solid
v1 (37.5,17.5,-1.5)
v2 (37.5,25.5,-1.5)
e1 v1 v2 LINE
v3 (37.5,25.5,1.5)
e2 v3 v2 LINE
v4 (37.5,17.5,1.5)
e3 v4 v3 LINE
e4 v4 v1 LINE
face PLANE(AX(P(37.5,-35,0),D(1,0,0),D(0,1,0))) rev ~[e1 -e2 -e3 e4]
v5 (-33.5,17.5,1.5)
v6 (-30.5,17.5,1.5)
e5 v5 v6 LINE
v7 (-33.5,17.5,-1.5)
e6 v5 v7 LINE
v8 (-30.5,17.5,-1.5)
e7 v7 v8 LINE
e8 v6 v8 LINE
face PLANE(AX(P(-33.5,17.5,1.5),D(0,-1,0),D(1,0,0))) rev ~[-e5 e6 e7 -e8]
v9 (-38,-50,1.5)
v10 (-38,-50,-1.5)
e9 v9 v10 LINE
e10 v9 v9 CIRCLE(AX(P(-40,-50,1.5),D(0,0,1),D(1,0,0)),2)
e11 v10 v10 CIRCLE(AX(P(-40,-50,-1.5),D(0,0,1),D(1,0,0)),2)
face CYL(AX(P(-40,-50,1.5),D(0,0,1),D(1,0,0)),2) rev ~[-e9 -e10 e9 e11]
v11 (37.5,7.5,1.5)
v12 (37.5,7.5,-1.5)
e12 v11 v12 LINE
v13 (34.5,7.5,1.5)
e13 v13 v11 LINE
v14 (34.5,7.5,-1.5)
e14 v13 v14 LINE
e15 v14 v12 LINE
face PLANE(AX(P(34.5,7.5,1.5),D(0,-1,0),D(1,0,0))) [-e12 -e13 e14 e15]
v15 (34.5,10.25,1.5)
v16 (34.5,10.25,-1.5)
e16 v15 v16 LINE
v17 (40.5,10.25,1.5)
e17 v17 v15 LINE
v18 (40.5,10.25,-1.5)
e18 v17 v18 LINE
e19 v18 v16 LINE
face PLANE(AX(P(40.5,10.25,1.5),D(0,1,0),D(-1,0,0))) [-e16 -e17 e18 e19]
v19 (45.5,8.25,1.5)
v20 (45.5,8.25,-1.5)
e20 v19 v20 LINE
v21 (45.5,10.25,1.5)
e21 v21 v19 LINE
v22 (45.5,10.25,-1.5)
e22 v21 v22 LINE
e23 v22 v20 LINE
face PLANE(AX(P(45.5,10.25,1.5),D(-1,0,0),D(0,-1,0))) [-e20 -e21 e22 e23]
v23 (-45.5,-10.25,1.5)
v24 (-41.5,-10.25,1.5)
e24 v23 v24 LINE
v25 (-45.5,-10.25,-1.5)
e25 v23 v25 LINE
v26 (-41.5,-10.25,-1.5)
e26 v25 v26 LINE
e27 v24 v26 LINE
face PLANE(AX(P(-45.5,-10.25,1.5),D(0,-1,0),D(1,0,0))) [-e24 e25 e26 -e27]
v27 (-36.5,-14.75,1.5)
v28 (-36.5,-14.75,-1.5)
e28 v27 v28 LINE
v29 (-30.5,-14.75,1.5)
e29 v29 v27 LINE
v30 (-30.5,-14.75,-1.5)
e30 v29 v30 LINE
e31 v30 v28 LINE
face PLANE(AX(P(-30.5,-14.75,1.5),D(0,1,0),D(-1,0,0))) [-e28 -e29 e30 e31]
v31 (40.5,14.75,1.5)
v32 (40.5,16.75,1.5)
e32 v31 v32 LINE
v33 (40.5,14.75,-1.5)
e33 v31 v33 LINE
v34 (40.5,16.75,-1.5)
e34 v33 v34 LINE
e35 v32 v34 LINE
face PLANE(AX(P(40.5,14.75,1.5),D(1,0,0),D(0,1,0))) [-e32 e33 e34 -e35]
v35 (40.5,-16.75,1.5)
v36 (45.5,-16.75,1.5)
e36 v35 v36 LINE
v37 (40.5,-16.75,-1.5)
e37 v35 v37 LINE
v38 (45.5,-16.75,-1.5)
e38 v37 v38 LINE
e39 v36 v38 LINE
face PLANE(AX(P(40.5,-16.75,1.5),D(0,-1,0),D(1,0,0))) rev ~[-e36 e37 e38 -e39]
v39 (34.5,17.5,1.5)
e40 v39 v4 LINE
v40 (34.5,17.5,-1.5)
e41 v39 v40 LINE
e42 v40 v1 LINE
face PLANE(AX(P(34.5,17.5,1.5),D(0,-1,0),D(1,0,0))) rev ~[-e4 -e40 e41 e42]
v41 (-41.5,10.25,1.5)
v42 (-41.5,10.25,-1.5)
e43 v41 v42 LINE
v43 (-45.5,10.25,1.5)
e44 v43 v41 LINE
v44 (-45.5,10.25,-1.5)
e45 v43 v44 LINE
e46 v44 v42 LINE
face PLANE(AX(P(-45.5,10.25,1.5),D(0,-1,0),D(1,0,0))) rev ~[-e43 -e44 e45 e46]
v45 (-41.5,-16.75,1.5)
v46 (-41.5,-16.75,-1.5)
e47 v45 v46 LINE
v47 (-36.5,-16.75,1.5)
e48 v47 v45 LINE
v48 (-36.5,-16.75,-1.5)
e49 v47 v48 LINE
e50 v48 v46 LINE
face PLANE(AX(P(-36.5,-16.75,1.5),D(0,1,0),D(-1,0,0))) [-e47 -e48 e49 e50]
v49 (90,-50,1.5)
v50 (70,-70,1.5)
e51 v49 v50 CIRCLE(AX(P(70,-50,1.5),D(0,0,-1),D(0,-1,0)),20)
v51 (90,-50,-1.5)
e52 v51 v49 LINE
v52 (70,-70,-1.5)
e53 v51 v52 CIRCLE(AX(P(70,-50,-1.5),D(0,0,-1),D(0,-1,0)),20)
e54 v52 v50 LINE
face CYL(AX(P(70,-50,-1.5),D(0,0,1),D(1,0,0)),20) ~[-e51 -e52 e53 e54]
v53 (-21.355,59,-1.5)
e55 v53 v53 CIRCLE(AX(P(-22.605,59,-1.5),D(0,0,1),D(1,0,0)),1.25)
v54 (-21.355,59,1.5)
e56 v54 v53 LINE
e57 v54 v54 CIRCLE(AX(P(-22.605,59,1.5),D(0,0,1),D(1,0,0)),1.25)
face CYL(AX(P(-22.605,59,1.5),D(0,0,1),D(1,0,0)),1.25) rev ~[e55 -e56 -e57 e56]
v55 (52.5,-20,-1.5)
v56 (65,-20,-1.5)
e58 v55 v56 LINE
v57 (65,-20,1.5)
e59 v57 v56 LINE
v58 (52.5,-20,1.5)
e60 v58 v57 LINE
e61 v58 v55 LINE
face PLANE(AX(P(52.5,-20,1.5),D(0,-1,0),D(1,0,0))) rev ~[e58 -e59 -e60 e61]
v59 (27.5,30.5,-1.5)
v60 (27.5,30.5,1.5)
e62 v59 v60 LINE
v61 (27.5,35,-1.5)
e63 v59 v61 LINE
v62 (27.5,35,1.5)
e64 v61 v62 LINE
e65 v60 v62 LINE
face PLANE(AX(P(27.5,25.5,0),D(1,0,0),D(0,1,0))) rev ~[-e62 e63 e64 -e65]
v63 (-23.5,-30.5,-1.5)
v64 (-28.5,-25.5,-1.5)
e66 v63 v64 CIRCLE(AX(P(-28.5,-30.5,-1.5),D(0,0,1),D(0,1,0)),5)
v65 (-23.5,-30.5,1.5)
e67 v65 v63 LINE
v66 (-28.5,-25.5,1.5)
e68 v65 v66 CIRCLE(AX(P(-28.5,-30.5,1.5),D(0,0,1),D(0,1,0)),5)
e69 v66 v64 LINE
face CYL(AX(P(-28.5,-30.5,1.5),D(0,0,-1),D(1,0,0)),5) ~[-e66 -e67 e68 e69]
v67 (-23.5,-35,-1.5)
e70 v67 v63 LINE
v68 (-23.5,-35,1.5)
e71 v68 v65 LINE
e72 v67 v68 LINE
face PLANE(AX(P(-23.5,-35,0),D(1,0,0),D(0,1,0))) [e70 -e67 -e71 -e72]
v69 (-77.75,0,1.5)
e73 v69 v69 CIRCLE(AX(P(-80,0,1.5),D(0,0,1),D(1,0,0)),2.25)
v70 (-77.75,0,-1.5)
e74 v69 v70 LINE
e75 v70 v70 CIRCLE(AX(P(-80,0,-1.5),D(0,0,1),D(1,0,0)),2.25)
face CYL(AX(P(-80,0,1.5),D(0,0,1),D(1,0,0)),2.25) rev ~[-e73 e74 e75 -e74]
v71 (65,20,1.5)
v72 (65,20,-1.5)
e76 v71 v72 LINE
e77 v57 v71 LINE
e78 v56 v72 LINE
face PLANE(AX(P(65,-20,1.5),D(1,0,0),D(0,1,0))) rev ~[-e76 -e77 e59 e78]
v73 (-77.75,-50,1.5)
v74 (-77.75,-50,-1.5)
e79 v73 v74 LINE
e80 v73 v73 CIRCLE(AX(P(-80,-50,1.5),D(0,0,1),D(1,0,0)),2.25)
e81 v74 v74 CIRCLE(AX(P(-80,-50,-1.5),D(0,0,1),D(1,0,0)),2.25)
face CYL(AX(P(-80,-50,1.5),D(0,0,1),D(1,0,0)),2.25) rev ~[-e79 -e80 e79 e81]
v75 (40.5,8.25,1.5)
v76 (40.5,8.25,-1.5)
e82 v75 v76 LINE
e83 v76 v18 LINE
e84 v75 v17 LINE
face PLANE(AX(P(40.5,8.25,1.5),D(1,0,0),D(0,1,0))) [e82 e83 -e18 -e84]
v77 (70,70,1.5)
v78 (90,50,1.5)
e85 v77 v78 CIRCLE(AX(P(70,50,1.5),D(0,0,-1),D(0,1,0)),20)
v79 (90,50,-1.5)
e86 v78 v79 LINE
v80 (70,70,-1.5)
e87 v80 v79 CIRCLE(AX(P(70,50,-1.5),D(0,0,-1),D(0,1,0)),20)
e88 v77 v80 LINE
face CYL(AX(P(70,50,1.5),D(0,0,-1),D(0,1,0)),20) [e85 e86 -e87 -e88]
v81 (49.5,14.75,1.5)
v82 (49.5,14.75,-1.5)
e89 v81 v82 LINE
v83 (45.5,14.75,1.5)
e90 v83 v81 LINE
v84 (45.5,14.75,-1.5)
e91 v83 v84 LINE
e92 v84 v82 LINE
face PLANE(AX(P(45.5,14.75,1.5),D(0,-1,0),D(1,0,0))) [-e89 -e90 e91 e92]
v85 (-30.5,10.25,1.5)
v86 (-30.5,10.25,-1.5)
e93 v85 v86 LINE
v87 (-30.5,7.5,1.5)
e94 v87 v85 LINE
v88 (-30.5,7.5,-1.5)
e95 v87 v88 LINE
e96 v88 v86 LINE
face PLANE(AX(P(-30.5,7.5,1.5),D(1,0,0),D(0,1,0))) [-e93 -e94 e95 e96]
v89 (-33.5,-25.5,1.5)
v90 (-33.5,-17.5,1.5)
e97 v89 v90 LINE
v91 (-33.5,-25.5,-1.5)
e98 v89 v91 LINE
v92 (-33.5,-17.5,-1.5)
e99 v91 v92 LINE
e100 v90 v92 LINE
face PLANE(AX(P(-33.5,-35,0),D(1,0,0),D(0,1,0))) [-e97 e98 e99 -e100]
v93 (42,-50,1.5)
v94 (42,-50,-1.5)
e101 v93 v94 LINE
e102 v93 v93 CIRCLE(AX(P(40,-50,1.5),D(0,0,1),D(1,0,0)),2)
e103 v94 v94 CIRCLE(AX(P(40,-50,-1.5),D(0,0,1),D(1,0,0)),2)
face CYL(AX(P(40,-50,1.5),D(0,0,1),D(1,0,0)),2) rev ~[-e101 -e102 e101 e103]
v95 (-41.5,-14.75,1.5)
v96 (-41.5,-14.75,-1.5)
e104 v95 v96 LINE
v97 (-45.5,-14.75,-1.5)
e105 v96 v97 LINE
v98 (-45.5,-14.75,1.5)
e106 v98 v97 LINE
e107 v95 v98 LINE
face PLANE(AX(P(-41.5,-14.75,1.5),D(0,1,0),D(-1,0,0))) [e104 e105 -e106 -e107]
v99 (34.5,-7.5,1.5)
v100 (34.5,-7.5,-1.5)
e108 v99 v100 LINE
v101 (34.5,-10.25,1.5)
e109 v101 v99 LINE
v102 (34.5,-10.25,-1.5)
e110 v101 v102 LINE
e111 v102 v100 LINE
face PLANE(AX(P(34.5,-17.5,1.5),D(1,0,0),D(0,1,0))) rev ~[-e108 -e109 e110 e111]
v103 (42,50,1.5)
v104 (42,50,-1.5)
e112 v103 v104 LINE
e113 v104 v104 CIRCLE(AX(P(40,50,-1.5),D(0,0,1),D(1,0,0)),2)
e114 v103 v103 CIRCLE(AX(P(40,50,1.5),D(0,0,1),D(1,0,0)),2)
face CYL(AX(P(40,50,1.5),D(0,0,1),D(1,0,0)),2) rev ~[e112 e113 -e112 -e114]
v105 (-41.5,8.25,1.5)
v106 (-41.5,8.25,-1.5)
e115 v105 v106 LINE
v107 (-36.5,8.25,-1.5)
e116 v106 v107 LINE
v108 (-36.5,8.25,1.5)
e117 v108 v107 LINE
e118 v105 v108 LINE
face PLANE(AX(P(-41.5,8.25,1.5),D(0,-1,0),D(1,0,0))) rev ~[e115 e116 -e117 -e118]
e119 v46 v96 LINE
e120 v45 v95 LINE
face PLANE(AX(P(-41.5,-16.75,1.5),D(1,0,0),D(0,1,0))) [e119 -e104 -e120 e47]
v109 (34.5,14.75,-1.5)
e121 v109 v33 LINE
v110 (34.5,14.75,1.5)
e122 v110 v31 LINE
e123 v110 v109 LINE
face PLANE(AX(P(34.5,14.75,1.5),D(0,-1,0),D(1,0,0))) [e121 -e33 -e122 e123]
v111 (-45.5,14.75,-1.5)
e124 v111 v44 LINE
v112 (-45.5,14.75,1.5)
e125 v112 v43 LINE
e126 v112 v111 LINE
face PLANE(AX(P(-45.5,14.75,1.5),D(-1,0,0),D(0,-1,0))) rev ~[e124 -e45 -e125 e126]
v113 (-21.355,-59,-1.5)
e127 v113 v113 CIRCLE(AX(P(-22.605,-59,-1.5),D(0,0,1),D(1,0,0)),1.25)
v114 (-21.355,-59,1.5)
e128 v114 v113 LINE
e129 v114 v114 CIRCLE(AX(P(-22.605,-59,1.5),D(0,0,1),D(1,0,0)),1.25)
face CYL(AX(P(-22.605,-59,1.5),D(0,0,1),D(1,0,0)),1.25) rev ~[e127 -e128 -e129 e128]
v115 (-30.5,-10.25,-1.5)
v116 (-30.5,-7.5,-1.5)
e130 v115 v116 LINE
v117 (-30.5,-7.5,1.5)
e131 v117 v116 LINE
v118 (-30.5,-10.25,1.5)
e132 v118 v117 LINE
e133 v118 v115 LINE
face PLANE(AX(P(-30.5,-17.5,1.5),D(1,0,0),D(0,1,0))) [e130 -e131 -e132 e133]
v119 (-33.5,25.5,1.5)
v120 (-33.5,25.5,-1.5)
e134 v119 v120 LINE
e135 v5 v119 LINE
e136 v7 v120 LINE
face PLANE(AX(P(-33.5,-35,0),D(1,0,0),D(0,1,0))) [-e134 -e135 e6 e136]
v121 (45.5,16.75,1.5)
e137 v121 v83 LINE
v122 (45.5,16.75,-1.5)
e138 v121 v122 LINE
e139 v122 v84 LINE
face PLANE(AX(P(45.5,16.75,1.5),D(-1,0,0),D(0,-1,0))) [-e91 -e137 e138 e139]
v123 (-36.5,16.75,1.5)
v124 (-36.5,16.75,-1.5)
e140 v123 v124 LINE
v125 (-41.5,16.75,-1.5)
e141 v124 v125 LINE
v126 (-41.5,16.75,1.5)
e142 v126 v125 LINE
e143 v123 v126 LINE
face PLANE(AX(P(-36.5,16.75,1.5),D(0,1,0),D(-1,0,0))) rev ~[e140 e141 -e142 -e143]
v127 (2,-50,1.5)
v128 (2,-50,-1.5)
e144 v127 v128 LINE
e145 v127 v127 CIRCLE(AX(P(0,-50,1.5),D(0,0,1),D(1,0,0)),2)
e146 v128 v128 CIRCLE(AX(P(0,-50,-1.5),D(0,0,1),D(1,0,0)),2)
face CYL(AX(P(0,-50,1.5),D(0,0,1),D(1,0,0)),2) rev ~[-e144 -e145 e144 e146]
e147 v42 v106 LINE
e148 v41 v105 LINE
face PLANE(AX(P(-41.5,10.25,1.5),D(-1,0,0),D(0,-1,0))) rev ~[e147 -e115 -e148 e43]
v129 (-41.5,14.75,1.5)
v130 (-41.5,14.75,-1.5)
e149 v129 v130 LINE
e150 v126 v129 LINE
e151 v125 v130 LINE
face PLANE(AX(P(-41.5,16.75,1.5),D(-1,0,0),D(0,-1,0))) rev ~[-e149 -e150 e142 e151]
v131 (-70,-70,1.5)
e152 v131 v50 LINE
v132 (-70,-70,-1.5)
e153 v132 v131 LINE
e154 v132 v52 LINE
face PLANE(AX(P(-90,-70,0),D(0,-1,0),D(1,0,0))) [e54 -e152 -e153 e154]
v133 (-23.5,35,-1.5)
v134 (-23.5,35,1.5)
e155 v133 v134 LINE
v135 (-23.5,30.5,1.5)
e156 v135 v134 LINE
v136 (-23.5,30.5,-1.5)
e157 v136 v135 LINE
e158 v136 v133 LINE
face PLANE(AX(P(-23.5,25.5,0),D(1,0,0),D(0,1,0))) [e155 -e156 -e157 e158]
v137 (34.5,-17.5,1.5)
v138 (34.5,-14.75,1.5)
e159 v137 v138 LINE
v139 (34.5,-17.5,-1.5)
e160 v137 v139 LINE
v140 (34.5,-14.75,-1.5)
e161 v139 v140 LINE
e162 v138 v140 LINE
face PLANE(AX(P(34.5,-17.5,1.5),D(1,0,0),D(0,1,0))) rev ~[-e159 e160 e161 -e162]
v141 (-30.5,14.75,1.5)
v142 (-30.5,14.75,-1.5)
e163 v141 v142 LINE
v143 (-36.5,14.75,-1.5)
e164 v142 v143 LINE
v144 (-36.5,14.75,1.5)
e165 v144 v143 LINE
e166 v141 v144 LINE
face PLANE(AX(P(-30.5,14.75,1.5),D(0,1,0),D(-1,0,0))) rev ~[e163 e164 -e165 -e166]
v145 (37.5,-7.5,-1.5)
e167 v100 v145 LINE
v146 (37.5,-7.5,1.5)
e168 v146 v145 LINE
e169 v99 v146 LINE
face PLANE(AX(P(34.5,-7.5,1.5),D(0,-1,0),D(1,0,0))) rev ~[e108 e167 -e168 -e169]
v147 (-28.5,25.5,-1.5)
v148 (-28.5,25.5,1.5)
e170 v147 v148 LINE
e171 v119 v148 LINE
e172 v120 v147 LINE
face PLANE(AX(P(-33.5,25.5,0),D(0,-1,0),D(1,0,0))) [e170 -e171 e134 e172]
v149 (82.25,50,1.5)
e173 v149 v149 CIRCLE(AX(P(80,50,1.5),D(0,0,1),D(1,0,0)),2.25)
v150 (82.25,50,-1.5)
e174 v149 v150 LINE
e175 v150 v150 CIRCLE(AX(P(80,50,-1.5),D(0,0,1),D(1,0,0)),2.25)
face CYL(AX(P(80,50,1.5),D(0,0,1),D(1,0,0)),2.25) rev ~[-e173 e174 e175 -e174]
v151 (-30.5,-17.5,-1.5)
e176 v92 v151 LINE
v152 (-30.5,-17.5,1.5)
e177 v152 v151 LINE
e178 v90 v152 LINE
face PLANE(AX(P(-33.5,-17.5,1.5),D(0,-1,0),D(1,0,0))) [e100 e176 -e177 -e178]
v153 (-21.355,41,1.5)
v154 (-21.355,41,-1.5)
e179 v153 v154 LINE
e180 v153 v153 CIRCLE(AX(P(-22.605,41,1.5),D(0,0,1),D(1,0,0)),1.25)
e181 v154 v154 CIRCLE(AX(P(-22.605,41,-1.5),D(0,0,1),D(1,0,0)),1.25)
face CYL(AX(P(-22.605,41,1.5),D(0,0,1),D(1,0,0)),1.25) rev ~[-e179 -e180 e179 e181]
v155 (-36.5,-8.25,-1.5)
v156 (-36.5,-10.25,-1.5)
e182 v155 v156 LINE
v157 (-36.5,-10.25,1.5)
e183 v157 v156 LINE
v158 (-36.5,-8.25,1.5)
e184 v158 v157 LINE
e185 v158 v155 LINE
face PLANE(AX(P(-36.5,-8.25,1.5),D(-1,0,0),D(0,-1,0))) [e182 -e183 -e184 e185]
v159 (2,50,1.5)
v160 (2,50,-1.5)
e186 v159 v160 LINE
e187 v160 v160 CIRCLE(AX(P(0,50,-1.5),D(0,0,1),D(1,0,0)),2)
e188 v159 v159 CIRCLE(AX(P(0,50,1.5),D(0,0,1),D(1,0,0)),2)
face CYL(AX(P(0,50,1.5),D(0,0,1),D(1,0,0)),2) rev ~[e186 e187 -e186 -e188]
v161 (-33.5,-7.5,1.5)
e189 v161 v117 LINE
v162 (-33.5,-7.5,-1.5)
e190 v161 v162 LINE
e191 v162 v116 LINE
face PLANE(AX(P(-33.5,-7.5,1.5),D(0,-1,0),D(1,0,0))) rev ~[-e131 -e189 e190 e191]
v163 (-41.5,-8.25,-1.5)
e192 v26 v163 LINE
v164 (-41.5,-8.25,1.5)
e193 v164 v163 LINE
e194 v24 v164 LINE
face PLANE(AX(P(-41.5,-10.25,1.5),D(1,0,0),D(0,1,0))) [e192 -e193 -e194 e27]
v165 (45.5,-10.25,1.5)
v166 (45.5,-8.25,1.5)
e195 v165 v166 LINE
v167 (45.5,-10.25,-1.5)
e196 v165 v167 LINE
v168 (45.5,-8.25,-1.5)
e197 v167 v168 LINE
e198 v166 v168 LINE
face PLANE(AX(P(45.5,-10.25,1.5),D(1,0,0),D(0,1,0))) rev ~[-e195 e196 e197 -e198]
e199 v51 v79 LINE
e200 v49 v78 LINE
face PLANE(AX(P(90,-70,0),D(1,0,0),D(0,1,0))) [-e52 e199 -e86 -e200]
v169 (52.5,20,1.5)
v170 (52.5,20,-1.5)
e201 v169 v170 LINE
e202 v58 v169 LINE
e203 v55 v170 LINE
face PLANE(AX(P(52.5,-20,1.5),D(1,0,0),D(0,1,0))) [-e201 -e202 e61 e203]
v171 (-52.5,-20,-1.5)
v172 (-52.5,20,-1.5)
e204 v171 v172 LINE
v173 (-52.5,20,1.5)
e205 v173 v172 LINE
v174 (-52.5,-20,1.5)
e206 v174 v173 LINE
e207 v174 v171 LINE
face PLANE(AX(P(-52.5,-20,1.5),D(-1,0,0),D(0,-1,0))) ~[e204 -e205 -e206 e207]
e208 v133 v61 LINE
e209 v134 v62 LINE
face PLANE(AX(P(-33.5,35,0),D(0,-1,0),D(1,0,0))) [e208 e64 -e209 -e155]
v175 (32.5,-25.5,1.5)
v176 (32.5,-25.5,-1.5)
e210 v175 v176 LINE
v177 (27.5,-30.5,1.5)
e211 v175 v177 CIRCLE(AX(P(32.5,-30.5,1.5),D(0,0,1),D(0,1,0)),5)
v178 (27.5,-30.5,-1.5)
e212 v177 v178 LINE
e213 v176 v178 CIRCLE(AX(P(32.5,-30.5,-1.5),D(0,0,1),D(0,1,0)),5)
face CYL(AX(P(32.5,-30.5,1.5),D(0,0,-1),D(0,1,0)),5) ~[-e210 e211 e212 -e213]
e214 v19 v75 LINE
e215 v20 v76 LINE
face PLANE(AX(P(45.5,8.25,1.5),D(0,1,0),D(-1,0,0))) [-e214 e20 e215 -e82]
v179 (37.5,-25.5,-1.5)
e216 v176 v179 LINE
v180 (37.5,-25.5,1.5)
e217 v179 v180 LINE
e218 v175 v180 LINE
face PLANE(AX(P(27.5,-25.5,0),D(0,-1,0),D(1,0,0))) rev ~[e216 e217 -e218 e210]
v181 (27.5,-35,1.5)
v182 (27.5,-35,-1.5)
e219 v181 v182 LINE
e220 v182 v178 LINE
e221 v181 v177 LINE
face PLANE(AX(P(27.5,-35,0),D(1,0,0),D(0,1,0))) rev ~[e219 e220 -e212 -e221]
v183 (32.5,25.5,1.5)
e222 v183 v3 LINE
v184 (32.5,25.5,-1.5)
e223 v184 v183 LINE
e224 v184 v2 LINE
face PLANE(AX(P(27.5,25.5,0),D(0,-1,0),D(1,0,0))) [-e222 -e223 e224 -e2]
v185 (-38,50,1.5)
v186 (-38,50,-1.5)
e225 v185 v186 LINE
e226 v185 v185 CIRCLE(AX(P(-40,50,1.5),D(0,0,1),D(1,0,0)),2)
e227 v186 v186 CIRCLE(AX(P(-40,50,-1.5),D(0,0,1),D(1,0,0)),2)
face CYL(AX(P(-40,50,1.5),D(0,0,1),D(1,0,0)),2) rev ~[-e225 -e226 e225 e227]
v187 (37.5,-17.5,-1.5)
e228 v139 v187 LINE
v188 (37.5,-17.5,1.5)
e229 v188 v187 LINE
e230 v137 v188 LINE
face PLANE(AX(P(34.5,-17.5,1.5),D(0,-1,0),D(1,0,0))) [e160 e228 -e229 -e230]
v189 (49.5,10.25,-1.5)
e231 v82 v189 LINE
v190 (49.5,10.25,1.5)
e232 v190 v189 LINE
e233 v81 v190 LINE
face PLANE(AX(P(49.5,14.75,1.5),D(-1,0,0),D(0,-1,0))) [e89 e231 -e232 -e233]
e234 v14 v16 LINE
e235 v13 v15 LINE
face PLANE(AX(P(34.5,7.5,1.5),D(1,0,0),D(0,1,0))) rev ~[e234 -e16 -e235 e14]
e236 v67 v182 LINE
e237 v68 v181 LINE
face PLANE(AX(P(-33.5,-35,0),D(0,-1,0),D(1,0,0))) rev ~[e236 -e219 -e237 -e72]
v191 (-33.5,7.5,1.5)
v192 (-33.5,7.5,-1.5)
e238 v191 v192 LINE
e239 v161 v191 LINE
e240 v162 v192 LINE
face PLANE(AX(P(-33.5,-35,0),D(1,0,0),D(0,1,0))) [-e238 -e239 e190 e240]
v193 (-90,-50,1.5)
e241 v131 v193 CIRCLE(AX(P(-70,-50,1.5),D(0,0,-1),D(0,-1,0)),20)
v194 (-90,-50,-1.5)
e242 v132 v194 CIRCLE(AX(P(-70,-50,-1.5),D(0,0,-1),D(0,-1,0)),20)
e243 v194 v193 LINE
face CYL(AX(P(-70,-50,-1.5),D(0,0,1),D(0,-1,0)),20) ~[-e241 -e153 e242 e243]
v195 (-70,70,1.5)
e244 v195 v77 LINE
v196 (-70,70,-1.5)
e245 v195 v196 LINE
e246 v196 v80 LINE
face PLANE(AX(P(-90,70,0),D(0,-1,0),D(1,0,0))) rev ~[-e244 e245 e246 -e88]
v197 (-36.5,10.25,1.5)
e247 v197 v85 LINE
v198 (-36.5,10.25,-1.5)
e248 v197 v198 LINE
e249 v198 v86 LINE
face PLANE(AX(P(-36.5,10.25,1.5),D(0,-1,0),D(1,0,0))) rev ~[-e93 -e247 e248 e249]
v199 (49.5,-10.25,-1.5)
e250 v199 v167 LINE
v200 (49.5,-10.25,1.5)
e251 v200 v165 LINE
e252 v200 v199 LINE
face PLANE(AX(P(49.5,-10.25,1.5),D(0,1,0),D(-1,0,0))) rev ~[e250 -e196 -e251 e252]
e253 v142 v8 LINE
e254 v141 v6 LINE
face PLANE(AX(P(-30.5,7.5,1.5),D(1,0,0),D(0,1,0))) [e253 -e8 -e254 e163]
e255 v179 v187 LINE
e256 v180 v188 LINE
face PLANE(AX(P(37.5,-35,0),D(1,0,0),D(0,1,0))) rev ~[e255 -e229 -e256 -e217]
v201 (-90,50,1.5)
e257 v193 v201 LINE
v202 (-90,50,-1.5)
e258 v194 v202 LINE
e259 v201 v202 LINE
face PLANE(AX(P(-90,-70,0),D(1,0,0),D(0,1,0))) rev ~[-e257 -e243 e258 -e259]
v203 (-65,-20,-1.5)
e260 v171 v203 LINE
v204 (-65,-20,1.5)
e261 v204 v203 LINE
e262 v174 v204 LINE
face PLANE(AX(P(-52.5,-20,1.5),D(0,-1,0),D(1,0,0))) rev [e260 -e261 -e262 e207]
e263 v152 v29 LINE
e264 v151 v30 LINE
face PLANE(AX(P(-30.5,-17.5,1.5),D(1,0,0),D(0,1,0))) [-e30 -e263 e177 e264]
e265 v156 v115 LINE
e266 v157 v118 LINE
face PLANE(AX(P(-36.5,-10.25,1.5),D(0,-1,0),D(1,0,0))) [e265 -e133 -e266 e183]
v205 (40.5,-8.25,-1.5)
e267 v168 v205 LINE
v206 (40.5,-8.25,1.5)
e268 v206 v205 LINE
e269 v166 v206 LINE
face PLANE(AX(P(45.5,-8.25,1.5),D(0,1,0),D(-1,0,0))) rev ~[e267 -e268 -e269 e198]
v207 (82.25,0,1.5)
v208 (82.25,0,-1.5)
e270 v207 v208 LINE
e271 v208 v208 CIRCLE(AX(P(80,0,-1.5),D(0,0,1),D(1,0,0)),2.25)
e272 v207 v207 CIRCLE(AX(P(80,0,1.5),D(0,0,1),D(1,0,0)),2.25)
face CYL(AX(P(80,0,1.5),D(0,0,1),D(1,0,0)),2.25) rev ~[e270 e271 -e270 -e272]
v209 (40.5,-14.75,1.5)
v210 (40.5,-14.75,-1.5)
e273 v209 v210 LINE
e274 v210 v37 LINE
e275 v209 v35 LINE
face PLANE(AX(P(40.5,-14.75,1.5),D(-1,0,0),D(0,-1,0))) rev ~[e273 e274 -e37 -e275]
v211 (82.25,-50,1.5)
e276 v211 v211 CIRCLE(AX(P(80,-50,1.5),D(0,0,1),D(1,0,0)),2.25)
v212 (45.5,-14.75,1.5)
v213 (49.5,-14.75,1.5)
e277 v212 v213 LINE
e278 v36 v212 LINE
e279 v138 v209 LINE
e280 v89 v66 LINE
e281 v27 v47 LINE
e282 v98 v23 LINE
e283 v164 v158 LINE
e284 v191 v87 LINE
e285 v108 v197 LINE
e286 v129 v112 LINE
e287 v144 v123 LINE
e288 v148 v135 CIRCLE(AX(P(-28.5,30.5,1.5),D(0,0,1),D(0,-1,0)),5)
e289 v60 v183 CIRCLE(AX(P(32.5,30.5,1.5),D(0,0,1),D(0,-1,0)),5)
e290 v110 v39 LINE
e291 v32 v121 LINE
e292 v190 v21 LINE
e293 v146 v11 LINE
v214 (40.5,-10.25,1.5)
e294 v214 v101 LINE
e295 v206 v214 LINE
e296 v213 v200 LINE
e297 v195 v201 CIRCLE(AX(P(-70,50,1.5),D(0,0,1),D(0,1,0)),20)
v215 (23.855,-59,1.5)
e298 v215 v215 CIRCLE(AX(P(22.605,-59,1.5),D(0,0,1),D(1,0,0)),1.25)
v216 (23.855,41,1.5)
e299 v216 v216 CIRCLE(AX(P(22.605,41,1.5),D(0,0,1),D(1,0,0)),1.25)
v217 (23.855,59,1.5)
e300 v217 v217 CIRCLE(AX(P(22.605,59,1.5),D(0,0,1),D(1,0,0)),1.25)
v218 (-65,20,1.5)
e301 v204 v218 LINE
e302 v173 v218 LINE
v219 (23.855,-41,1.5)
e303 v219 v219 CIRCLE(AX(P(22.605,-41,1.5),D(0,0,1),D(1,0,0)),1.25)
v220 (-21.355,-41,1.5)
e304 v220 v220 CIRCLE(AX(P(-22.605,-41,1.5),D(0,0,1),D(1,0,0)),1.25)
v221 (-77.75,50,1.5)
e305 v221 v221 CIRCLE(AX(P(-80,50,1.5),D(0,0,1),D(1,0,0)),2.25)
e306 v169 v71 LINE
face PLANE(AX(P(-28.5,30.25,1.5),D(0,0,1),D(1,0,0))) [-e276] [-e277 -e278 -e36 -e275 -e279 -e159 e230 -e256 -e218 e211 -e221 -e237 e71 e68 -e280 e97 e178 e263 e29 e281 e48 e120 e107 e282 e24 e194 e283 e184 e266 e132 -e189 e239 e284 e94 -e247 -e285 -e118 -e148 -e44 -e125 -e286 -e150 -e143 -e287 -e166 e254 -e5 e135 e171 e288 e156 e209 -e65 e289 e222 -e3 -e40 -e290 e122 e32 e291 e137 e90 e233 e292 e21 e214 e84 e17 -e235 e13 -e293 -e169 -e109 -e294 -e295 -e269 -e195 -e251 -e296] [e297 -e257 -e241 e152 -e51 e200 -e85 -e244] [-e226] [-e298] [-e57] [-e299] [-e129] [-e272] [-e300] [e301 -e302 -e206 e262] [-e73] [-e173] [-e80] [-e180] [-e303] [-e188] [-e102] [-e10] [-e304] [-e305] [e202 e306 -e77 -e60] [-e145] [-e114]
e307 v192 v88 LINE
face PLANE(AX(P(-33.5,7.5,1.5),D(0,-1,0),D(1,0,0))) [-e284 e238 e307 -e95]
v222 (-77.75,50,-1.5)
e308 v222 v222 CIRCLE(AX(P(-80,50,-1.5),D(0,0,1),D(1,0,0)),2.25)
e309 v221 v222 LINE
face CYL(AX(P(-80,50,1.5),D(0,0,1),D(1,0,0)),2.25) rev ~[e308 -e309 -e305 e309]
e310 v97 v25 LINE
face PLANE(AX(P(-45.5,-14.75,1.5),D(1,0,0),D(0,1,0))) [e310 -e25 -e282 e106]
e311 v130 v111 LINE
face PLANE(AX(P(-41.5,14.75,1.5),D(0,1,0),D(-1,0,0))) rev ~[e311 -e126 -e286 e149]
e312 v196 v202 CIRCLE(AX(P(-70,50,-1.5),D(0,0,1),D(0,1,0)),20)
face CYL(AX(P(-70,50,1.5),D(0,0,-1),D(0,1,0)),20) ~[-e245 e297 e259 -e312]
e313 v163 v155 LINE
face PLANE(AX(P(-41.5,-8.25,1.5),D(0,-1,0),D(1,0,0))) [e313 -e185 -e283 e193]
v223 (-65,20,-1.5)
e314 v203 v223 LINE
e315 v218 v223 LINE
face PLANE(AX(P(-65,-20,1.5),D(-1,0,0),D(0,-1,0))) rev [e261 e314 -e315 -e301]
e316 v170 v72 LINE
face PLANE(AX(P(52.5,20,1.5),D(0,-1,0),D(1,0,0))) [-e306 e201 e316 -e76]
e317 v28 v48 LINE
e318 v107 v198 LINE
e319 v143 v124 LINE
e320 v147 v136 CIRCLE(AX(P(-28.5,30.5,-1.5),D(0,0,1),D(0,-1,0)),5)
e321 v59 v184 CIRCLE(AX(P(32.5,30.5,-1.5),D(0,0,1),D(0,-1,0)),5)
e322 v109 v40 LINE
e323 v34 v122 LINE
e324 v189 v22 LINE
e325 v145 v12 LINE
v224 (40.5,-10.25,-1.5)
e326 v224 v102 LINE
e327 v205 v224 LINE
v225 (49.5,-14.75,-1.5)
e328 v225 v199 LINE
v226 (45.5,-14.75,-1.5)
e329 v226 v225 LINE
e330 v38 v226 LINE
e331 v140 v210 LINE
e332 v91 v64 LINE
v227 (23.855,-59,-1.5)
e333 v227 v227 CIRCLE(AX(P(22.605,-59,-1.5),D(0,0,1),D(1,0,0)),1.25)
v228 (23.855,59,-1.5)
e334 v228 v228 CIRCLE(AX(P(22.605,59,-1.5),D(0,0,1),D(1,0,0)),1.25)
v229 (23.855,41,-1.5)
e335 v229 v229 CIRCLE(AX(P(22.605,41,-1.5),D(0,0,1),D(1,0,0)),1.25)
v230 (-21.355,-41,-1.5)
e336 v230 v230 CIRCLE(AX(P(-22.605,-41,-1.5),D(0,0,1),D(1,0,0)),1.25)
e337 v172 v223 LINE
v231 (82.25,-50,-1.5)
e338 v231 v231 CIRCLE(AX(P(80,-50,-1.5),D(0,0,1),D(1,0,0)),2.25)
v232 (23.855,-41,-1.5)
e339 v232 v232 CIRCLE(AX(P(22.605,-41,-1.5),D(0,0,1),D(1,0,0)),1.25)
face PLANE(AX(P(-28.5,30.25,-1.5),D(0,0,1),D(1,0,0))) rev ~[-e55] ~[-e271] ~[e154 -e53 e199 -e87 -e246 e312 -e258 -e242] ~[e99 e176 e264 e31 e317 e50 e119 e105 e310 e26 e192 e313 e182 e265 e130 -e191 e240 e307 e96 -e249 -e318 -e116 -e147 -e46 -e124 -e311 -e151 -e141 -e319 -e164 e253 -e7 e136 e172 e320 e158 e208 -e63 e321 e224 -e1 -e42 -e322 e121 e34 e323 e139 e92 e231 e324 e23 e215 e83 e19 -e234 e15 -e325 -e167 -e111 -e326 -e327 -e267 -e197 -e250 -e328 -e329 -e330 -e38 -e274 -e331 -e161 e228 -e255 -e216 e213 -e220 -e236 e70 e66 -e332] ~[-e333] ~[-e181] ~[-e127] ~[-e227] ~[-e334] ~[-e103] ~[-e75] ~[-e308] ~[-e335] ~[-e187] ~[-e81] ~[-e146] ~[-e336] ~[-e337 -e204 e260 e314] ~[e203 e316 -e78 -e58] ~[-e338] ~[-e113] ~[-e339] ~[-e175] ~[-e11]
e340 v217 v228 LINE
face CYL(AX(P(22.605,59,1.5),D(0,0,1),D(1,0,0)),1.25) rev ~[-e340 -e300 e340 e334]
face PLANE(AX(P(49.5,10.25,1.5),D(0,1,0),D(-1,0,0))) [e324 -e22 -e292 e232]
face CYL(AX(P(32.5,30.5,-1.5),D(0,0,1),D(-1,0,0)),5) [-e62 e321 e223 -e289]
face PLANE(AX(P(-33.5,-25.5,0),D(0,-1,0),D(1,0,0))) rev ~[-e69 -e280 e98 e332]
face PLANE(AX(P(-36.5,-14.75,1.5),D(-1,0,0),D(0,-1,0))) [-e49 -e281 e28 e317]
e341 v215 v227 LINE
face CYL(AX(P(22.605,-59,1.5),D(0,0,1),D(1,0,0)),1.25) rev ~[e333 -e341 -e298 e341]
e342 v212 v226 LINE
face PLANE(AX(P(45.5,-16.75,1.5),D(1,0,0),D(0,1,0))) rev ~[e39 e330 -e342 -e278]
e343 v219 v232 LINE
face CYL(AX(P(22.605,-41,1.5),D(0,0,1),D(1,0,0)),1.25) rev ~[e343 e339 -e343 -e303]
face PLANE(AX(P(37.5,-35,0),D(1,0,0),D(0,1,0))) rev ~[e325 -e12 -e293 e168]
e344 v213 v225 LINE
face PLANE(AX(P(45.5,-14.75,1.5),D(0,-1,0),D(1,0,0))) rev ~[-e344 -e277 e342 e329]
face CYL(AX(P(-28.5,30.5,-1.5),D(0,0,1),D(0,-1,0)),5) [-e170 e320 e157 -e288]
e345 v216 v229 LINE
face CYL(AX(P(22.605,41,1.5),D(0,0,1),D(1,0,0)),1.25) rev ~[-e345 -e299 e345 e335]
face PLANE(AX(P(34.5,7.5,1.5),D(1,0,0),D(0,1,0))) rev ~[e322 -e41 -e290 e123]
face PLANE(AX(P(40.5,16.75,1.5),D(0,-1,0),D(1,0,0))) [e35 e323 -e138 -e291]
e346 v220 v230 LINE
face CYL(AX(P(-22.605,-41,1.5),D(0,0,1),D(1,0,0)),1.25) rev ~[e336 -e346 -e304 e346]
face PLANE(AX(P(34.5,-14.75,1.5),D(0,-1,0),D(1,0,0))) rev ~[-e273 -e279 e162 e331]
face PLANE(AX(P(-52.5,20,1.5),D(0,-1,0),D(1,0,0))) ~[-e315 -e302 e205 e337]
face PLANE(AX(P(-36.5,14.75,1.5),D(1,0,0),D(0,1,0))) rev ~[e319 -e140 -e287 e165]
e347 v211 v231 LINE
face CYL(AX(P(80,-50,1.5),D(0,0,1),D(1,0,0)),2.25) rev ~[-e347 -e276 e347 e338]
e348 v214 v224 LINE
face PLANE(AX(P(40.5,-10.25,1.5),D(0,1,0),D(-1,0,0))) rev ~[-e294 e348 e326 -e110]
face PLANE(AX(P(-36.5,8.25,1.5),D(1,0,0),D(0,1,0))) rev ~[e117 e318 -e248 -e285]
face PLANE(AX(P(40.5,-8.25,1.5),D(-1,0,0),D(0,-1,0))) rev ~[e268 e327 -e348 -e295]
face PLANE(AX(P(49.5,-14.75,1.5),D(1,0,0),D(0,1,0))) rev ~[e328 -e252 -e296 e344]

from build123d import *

# Parameters (mm, degrees)
SKETCH_1_W          = 180
SKETCH_1_H          = 140
SKETCH_1_W_2        = 71
SKETCH_1_H_2        = 70
SKETCH_1_W_3        = 10
SKETCH_1_H_3        = 9.5
EXTRUDE_1_DEPTH     = 1.5
FILLET_1_R          = 20
FILLET_2_R          = 5
SKETCH_2_W          = 12.5
SKETCH_2_H          = 40
CUT_EXTRUDE_1_DEPTH = 3
SKETCH_3_W          = 3
SKETCH_3_H          = 10
EXTRUDE_2_DEPTH     = 3
CUT_EXTRUDE_2_DEPTH = 3
SKETCH_6_R          = 2.25
SKETCH_6_R_2        = 1.25
SKETCH_6_R_3        = 2
CUT_EXTRUDE_3_DEPTH = 10


with BuildPart() as part:
    # 草图1 → 凸台-拉伸1 (new, symmetric)
    # profile 1 of 5: a face of its own
    with BuildSketch(Plane.XY):
        Rectangle(SKETCH_1_W, SKETCH_1_H)
        with Locations((2, 0)):
            Rectangle(SKETCH_1_W_2, SKETCH_1_H_2, mode=Mode.SUBTRACT)
    # profile 2 of 5: a face of its own
    with BuildSketch(Plane.XY):
        with Locations((-28.5, -30.25)):
            Rectangle(SKETCH_1_W_3, SKETCH_1_H_3)
    # profile 3 of 5: a face of its own
    with BuildSketch(Plane.XY):
        with Locations((32.5, -30.25)):
            Rectangle(SKETCH_1_W_3, SKETCH_1_H_3)
    # profile 4 of 5: a face of its own
    with BuildSketch(Plane.XY):
        with Locations((32.5, 30.25)):
            Rectangle(SKETCH_1_W_3, SKETCH_1_H_3)
    # profile 5 of 5: a face of its own
    with BuildSketch(Plane.XY):
        with Locations((-28.5, 30.25)):
            Rectangle(SKETCH_1_W_3, SKETCH_1_H_3)
    extrude(amount=EXTRUDE_1_DEPTH, both=True)

    # 圆角1
    fillet_1_edges = [part.edges().sort_by_distance(p)[0] for p in [
        (90, -70, 0),
        (-90, -70, 0),
        (-90, 70, 0),
        (90, 70, 0),
    ]]
    fillet(fillet_1_edges, radius=FILLET_1_R)

    # 圆角2
    fillet_2_edges = [part.edges().sort_by_distance(p)[0] for p in [
        (-23.5, 25.5, 0),
        (-23.5, -25.5, 0),
        (27.5, -25.5, 0),
        (27.5, 25.5, 0),
    ]]
    fillet(fillet_2_edges, radius=FILLET_2_R)

    # 草图2 → 切除-拉伸1 (cut)
    with BuildSketch(Plane.XY.offset(1.5)):
        with Locations((58.75, 0)):
            Rectangle(SKETCH_2_W, SKETCH_2_H)
    cut_extrude_1 = extrude(amount=-CUT_EXTRUDE_1_DEPTH, mode=Mode.SUBTRACT)

    # 草图3 → 凸台-拉伸2 (add)
    with BuildSketch(Plane.XY.offset(1.5)):
        with Locations((-32, 12.5)):
            Rectangle(SKETCH_3_W, SKETCH_3_H)
        with Locations((36, -12.5)):
            Rectangle(SKETCH_3_W, SKETCH_3_H)
        with Locations((-32, -12.5)):
            Rectangle(SKETCH_3_W, SKETCH_3_H)
        with Locations((36, 12.5)):
            Rectangle(SKETCH_3_W, SKETCH_3_H)
    extrude(amount=-EXTRUDE_2_DEPTH)

    # 草图5 → 切除-拉伸2 (cut)
    with BuildSketch(Plane.XY.offset(1.5)):
        Polygon((-30.5, 14.75), (-36.5, 14.75), (-36.5, 16.75), (-41.5, 16.75), (-41.5, 14.75), (-45.5, 14.75), (-45.5, 10.25), (-41.5, 10.25), (-41.5, 8.25), (-36.5, 8.25), (-36.5, 10.25), (-30.5, 10.25), align=None)
        Polygon((-36.5, -10.25), (-30.5, -10.25), (-30.5, -14.75), (-36.5, -14.75), (-36.5, -16.75), (-41.5, -16.75), (-41.5, -14.75), (-45.5, -14.75), (-45.5, -10.25), (-41.5, -10.25), (-41.5, -8.25), (-36.5, -8.25), align=None)
        Polygon((40.5, -8.25), (40.5, -10.25), (34.5, -10.25), (34.5, -14.75), (40.5, -14.75), (40.5, -16.75), (45.5, -16.75), (45.5, -14.75), (49.5, -14.75), (49.5, -10.25), (45.5, -10.25), (45.5, -8.25), align=None)
        Polygon((40.5, 10.25), (34.5, 10.25), (34.5, 14.75), (40.5, 14.75), (40.5, 16.75), (45.5, 16.75), (45.5, 14.75), (49.5, 14.75), (49.5, 10.25), (45.5, 10.25), (45.5, 8.25), (40.5, 8.25), align=None)
    extrude(amount=-CUT_EXTRUDE_2_DEPTH, mode=Mode.SUBTRACT)

    # 草图6 → 切除-拉伸3 (cut)
    with BuildSketch(Plane.XY.offset(1.5)):
        with Locations((-80, 50)):
            Circle(SKETCH_6_R)
        with Locations((80, 50)):
            Circle(SKETCH_6_R)
        with Locations((80, -50)):
            Circle(SKETCH_6_R)
        with Locations((-80, -50)):
            Circle(SKETCH_6_R)
        with Locations((-22.605, -41)):
            Circle(SKETCH_6_R_2)
        with Locations((22.605, -41)):
            Circle(SKETCH_6_R_2)
        with Locations((22.605, -59)):
            Circle(SKETCH_6_R_2)
        with Locations((-22.605, -59)):
            Circle(SKETCH_6_R_2)
        with Locations((22.605, 59)):
            Circle(SKETCH_6_R_2)
        with Locations((22.605, 41)):
            Circle(SKETCH_6_R_2)
        with Locations((-22.605, 41)):
            Circle(SKETCH_6_R_2)
        with Locations((-22.605, 59)):
            Circle(SKETCH_6_R_2)
        with Locations((0, 50)):
            Circle(SKETCH_6_R_3)
        with Locations((40, 50)):
            Circle(SKETCH_6_R_3)
        with Locations((-40, 50)):
            Circle(SKETCH_6_R_3)
        with Locations((0, -50)):
            Circle(SKETCH_6_R_3)
        with Locations((40, -50)):
            Circle(SKETCH_6_R_3)
        with Locations((-40, -50)):
            Circle(SKETCH_6_R_3)
        with Locations((-80, 0)):
            Circle(SKETCH_6_R)
        with Locations((80, 0)):
            Circle(SKETCH_6_R)
    extrude(amount=-CUT_EXTRUDE_3_DEPTH, mode=Mode.SUBTRACT)

    # 镜向1: 切除-拉伸1 across plane
    add(cut_extrude_1.mirror(Plane(origin=(0, 0, 0), x_dir=(0, 0, 1), z_dir=(1, 0, 0))), mode=Mode.SUBTRACT)


solid = part.part
